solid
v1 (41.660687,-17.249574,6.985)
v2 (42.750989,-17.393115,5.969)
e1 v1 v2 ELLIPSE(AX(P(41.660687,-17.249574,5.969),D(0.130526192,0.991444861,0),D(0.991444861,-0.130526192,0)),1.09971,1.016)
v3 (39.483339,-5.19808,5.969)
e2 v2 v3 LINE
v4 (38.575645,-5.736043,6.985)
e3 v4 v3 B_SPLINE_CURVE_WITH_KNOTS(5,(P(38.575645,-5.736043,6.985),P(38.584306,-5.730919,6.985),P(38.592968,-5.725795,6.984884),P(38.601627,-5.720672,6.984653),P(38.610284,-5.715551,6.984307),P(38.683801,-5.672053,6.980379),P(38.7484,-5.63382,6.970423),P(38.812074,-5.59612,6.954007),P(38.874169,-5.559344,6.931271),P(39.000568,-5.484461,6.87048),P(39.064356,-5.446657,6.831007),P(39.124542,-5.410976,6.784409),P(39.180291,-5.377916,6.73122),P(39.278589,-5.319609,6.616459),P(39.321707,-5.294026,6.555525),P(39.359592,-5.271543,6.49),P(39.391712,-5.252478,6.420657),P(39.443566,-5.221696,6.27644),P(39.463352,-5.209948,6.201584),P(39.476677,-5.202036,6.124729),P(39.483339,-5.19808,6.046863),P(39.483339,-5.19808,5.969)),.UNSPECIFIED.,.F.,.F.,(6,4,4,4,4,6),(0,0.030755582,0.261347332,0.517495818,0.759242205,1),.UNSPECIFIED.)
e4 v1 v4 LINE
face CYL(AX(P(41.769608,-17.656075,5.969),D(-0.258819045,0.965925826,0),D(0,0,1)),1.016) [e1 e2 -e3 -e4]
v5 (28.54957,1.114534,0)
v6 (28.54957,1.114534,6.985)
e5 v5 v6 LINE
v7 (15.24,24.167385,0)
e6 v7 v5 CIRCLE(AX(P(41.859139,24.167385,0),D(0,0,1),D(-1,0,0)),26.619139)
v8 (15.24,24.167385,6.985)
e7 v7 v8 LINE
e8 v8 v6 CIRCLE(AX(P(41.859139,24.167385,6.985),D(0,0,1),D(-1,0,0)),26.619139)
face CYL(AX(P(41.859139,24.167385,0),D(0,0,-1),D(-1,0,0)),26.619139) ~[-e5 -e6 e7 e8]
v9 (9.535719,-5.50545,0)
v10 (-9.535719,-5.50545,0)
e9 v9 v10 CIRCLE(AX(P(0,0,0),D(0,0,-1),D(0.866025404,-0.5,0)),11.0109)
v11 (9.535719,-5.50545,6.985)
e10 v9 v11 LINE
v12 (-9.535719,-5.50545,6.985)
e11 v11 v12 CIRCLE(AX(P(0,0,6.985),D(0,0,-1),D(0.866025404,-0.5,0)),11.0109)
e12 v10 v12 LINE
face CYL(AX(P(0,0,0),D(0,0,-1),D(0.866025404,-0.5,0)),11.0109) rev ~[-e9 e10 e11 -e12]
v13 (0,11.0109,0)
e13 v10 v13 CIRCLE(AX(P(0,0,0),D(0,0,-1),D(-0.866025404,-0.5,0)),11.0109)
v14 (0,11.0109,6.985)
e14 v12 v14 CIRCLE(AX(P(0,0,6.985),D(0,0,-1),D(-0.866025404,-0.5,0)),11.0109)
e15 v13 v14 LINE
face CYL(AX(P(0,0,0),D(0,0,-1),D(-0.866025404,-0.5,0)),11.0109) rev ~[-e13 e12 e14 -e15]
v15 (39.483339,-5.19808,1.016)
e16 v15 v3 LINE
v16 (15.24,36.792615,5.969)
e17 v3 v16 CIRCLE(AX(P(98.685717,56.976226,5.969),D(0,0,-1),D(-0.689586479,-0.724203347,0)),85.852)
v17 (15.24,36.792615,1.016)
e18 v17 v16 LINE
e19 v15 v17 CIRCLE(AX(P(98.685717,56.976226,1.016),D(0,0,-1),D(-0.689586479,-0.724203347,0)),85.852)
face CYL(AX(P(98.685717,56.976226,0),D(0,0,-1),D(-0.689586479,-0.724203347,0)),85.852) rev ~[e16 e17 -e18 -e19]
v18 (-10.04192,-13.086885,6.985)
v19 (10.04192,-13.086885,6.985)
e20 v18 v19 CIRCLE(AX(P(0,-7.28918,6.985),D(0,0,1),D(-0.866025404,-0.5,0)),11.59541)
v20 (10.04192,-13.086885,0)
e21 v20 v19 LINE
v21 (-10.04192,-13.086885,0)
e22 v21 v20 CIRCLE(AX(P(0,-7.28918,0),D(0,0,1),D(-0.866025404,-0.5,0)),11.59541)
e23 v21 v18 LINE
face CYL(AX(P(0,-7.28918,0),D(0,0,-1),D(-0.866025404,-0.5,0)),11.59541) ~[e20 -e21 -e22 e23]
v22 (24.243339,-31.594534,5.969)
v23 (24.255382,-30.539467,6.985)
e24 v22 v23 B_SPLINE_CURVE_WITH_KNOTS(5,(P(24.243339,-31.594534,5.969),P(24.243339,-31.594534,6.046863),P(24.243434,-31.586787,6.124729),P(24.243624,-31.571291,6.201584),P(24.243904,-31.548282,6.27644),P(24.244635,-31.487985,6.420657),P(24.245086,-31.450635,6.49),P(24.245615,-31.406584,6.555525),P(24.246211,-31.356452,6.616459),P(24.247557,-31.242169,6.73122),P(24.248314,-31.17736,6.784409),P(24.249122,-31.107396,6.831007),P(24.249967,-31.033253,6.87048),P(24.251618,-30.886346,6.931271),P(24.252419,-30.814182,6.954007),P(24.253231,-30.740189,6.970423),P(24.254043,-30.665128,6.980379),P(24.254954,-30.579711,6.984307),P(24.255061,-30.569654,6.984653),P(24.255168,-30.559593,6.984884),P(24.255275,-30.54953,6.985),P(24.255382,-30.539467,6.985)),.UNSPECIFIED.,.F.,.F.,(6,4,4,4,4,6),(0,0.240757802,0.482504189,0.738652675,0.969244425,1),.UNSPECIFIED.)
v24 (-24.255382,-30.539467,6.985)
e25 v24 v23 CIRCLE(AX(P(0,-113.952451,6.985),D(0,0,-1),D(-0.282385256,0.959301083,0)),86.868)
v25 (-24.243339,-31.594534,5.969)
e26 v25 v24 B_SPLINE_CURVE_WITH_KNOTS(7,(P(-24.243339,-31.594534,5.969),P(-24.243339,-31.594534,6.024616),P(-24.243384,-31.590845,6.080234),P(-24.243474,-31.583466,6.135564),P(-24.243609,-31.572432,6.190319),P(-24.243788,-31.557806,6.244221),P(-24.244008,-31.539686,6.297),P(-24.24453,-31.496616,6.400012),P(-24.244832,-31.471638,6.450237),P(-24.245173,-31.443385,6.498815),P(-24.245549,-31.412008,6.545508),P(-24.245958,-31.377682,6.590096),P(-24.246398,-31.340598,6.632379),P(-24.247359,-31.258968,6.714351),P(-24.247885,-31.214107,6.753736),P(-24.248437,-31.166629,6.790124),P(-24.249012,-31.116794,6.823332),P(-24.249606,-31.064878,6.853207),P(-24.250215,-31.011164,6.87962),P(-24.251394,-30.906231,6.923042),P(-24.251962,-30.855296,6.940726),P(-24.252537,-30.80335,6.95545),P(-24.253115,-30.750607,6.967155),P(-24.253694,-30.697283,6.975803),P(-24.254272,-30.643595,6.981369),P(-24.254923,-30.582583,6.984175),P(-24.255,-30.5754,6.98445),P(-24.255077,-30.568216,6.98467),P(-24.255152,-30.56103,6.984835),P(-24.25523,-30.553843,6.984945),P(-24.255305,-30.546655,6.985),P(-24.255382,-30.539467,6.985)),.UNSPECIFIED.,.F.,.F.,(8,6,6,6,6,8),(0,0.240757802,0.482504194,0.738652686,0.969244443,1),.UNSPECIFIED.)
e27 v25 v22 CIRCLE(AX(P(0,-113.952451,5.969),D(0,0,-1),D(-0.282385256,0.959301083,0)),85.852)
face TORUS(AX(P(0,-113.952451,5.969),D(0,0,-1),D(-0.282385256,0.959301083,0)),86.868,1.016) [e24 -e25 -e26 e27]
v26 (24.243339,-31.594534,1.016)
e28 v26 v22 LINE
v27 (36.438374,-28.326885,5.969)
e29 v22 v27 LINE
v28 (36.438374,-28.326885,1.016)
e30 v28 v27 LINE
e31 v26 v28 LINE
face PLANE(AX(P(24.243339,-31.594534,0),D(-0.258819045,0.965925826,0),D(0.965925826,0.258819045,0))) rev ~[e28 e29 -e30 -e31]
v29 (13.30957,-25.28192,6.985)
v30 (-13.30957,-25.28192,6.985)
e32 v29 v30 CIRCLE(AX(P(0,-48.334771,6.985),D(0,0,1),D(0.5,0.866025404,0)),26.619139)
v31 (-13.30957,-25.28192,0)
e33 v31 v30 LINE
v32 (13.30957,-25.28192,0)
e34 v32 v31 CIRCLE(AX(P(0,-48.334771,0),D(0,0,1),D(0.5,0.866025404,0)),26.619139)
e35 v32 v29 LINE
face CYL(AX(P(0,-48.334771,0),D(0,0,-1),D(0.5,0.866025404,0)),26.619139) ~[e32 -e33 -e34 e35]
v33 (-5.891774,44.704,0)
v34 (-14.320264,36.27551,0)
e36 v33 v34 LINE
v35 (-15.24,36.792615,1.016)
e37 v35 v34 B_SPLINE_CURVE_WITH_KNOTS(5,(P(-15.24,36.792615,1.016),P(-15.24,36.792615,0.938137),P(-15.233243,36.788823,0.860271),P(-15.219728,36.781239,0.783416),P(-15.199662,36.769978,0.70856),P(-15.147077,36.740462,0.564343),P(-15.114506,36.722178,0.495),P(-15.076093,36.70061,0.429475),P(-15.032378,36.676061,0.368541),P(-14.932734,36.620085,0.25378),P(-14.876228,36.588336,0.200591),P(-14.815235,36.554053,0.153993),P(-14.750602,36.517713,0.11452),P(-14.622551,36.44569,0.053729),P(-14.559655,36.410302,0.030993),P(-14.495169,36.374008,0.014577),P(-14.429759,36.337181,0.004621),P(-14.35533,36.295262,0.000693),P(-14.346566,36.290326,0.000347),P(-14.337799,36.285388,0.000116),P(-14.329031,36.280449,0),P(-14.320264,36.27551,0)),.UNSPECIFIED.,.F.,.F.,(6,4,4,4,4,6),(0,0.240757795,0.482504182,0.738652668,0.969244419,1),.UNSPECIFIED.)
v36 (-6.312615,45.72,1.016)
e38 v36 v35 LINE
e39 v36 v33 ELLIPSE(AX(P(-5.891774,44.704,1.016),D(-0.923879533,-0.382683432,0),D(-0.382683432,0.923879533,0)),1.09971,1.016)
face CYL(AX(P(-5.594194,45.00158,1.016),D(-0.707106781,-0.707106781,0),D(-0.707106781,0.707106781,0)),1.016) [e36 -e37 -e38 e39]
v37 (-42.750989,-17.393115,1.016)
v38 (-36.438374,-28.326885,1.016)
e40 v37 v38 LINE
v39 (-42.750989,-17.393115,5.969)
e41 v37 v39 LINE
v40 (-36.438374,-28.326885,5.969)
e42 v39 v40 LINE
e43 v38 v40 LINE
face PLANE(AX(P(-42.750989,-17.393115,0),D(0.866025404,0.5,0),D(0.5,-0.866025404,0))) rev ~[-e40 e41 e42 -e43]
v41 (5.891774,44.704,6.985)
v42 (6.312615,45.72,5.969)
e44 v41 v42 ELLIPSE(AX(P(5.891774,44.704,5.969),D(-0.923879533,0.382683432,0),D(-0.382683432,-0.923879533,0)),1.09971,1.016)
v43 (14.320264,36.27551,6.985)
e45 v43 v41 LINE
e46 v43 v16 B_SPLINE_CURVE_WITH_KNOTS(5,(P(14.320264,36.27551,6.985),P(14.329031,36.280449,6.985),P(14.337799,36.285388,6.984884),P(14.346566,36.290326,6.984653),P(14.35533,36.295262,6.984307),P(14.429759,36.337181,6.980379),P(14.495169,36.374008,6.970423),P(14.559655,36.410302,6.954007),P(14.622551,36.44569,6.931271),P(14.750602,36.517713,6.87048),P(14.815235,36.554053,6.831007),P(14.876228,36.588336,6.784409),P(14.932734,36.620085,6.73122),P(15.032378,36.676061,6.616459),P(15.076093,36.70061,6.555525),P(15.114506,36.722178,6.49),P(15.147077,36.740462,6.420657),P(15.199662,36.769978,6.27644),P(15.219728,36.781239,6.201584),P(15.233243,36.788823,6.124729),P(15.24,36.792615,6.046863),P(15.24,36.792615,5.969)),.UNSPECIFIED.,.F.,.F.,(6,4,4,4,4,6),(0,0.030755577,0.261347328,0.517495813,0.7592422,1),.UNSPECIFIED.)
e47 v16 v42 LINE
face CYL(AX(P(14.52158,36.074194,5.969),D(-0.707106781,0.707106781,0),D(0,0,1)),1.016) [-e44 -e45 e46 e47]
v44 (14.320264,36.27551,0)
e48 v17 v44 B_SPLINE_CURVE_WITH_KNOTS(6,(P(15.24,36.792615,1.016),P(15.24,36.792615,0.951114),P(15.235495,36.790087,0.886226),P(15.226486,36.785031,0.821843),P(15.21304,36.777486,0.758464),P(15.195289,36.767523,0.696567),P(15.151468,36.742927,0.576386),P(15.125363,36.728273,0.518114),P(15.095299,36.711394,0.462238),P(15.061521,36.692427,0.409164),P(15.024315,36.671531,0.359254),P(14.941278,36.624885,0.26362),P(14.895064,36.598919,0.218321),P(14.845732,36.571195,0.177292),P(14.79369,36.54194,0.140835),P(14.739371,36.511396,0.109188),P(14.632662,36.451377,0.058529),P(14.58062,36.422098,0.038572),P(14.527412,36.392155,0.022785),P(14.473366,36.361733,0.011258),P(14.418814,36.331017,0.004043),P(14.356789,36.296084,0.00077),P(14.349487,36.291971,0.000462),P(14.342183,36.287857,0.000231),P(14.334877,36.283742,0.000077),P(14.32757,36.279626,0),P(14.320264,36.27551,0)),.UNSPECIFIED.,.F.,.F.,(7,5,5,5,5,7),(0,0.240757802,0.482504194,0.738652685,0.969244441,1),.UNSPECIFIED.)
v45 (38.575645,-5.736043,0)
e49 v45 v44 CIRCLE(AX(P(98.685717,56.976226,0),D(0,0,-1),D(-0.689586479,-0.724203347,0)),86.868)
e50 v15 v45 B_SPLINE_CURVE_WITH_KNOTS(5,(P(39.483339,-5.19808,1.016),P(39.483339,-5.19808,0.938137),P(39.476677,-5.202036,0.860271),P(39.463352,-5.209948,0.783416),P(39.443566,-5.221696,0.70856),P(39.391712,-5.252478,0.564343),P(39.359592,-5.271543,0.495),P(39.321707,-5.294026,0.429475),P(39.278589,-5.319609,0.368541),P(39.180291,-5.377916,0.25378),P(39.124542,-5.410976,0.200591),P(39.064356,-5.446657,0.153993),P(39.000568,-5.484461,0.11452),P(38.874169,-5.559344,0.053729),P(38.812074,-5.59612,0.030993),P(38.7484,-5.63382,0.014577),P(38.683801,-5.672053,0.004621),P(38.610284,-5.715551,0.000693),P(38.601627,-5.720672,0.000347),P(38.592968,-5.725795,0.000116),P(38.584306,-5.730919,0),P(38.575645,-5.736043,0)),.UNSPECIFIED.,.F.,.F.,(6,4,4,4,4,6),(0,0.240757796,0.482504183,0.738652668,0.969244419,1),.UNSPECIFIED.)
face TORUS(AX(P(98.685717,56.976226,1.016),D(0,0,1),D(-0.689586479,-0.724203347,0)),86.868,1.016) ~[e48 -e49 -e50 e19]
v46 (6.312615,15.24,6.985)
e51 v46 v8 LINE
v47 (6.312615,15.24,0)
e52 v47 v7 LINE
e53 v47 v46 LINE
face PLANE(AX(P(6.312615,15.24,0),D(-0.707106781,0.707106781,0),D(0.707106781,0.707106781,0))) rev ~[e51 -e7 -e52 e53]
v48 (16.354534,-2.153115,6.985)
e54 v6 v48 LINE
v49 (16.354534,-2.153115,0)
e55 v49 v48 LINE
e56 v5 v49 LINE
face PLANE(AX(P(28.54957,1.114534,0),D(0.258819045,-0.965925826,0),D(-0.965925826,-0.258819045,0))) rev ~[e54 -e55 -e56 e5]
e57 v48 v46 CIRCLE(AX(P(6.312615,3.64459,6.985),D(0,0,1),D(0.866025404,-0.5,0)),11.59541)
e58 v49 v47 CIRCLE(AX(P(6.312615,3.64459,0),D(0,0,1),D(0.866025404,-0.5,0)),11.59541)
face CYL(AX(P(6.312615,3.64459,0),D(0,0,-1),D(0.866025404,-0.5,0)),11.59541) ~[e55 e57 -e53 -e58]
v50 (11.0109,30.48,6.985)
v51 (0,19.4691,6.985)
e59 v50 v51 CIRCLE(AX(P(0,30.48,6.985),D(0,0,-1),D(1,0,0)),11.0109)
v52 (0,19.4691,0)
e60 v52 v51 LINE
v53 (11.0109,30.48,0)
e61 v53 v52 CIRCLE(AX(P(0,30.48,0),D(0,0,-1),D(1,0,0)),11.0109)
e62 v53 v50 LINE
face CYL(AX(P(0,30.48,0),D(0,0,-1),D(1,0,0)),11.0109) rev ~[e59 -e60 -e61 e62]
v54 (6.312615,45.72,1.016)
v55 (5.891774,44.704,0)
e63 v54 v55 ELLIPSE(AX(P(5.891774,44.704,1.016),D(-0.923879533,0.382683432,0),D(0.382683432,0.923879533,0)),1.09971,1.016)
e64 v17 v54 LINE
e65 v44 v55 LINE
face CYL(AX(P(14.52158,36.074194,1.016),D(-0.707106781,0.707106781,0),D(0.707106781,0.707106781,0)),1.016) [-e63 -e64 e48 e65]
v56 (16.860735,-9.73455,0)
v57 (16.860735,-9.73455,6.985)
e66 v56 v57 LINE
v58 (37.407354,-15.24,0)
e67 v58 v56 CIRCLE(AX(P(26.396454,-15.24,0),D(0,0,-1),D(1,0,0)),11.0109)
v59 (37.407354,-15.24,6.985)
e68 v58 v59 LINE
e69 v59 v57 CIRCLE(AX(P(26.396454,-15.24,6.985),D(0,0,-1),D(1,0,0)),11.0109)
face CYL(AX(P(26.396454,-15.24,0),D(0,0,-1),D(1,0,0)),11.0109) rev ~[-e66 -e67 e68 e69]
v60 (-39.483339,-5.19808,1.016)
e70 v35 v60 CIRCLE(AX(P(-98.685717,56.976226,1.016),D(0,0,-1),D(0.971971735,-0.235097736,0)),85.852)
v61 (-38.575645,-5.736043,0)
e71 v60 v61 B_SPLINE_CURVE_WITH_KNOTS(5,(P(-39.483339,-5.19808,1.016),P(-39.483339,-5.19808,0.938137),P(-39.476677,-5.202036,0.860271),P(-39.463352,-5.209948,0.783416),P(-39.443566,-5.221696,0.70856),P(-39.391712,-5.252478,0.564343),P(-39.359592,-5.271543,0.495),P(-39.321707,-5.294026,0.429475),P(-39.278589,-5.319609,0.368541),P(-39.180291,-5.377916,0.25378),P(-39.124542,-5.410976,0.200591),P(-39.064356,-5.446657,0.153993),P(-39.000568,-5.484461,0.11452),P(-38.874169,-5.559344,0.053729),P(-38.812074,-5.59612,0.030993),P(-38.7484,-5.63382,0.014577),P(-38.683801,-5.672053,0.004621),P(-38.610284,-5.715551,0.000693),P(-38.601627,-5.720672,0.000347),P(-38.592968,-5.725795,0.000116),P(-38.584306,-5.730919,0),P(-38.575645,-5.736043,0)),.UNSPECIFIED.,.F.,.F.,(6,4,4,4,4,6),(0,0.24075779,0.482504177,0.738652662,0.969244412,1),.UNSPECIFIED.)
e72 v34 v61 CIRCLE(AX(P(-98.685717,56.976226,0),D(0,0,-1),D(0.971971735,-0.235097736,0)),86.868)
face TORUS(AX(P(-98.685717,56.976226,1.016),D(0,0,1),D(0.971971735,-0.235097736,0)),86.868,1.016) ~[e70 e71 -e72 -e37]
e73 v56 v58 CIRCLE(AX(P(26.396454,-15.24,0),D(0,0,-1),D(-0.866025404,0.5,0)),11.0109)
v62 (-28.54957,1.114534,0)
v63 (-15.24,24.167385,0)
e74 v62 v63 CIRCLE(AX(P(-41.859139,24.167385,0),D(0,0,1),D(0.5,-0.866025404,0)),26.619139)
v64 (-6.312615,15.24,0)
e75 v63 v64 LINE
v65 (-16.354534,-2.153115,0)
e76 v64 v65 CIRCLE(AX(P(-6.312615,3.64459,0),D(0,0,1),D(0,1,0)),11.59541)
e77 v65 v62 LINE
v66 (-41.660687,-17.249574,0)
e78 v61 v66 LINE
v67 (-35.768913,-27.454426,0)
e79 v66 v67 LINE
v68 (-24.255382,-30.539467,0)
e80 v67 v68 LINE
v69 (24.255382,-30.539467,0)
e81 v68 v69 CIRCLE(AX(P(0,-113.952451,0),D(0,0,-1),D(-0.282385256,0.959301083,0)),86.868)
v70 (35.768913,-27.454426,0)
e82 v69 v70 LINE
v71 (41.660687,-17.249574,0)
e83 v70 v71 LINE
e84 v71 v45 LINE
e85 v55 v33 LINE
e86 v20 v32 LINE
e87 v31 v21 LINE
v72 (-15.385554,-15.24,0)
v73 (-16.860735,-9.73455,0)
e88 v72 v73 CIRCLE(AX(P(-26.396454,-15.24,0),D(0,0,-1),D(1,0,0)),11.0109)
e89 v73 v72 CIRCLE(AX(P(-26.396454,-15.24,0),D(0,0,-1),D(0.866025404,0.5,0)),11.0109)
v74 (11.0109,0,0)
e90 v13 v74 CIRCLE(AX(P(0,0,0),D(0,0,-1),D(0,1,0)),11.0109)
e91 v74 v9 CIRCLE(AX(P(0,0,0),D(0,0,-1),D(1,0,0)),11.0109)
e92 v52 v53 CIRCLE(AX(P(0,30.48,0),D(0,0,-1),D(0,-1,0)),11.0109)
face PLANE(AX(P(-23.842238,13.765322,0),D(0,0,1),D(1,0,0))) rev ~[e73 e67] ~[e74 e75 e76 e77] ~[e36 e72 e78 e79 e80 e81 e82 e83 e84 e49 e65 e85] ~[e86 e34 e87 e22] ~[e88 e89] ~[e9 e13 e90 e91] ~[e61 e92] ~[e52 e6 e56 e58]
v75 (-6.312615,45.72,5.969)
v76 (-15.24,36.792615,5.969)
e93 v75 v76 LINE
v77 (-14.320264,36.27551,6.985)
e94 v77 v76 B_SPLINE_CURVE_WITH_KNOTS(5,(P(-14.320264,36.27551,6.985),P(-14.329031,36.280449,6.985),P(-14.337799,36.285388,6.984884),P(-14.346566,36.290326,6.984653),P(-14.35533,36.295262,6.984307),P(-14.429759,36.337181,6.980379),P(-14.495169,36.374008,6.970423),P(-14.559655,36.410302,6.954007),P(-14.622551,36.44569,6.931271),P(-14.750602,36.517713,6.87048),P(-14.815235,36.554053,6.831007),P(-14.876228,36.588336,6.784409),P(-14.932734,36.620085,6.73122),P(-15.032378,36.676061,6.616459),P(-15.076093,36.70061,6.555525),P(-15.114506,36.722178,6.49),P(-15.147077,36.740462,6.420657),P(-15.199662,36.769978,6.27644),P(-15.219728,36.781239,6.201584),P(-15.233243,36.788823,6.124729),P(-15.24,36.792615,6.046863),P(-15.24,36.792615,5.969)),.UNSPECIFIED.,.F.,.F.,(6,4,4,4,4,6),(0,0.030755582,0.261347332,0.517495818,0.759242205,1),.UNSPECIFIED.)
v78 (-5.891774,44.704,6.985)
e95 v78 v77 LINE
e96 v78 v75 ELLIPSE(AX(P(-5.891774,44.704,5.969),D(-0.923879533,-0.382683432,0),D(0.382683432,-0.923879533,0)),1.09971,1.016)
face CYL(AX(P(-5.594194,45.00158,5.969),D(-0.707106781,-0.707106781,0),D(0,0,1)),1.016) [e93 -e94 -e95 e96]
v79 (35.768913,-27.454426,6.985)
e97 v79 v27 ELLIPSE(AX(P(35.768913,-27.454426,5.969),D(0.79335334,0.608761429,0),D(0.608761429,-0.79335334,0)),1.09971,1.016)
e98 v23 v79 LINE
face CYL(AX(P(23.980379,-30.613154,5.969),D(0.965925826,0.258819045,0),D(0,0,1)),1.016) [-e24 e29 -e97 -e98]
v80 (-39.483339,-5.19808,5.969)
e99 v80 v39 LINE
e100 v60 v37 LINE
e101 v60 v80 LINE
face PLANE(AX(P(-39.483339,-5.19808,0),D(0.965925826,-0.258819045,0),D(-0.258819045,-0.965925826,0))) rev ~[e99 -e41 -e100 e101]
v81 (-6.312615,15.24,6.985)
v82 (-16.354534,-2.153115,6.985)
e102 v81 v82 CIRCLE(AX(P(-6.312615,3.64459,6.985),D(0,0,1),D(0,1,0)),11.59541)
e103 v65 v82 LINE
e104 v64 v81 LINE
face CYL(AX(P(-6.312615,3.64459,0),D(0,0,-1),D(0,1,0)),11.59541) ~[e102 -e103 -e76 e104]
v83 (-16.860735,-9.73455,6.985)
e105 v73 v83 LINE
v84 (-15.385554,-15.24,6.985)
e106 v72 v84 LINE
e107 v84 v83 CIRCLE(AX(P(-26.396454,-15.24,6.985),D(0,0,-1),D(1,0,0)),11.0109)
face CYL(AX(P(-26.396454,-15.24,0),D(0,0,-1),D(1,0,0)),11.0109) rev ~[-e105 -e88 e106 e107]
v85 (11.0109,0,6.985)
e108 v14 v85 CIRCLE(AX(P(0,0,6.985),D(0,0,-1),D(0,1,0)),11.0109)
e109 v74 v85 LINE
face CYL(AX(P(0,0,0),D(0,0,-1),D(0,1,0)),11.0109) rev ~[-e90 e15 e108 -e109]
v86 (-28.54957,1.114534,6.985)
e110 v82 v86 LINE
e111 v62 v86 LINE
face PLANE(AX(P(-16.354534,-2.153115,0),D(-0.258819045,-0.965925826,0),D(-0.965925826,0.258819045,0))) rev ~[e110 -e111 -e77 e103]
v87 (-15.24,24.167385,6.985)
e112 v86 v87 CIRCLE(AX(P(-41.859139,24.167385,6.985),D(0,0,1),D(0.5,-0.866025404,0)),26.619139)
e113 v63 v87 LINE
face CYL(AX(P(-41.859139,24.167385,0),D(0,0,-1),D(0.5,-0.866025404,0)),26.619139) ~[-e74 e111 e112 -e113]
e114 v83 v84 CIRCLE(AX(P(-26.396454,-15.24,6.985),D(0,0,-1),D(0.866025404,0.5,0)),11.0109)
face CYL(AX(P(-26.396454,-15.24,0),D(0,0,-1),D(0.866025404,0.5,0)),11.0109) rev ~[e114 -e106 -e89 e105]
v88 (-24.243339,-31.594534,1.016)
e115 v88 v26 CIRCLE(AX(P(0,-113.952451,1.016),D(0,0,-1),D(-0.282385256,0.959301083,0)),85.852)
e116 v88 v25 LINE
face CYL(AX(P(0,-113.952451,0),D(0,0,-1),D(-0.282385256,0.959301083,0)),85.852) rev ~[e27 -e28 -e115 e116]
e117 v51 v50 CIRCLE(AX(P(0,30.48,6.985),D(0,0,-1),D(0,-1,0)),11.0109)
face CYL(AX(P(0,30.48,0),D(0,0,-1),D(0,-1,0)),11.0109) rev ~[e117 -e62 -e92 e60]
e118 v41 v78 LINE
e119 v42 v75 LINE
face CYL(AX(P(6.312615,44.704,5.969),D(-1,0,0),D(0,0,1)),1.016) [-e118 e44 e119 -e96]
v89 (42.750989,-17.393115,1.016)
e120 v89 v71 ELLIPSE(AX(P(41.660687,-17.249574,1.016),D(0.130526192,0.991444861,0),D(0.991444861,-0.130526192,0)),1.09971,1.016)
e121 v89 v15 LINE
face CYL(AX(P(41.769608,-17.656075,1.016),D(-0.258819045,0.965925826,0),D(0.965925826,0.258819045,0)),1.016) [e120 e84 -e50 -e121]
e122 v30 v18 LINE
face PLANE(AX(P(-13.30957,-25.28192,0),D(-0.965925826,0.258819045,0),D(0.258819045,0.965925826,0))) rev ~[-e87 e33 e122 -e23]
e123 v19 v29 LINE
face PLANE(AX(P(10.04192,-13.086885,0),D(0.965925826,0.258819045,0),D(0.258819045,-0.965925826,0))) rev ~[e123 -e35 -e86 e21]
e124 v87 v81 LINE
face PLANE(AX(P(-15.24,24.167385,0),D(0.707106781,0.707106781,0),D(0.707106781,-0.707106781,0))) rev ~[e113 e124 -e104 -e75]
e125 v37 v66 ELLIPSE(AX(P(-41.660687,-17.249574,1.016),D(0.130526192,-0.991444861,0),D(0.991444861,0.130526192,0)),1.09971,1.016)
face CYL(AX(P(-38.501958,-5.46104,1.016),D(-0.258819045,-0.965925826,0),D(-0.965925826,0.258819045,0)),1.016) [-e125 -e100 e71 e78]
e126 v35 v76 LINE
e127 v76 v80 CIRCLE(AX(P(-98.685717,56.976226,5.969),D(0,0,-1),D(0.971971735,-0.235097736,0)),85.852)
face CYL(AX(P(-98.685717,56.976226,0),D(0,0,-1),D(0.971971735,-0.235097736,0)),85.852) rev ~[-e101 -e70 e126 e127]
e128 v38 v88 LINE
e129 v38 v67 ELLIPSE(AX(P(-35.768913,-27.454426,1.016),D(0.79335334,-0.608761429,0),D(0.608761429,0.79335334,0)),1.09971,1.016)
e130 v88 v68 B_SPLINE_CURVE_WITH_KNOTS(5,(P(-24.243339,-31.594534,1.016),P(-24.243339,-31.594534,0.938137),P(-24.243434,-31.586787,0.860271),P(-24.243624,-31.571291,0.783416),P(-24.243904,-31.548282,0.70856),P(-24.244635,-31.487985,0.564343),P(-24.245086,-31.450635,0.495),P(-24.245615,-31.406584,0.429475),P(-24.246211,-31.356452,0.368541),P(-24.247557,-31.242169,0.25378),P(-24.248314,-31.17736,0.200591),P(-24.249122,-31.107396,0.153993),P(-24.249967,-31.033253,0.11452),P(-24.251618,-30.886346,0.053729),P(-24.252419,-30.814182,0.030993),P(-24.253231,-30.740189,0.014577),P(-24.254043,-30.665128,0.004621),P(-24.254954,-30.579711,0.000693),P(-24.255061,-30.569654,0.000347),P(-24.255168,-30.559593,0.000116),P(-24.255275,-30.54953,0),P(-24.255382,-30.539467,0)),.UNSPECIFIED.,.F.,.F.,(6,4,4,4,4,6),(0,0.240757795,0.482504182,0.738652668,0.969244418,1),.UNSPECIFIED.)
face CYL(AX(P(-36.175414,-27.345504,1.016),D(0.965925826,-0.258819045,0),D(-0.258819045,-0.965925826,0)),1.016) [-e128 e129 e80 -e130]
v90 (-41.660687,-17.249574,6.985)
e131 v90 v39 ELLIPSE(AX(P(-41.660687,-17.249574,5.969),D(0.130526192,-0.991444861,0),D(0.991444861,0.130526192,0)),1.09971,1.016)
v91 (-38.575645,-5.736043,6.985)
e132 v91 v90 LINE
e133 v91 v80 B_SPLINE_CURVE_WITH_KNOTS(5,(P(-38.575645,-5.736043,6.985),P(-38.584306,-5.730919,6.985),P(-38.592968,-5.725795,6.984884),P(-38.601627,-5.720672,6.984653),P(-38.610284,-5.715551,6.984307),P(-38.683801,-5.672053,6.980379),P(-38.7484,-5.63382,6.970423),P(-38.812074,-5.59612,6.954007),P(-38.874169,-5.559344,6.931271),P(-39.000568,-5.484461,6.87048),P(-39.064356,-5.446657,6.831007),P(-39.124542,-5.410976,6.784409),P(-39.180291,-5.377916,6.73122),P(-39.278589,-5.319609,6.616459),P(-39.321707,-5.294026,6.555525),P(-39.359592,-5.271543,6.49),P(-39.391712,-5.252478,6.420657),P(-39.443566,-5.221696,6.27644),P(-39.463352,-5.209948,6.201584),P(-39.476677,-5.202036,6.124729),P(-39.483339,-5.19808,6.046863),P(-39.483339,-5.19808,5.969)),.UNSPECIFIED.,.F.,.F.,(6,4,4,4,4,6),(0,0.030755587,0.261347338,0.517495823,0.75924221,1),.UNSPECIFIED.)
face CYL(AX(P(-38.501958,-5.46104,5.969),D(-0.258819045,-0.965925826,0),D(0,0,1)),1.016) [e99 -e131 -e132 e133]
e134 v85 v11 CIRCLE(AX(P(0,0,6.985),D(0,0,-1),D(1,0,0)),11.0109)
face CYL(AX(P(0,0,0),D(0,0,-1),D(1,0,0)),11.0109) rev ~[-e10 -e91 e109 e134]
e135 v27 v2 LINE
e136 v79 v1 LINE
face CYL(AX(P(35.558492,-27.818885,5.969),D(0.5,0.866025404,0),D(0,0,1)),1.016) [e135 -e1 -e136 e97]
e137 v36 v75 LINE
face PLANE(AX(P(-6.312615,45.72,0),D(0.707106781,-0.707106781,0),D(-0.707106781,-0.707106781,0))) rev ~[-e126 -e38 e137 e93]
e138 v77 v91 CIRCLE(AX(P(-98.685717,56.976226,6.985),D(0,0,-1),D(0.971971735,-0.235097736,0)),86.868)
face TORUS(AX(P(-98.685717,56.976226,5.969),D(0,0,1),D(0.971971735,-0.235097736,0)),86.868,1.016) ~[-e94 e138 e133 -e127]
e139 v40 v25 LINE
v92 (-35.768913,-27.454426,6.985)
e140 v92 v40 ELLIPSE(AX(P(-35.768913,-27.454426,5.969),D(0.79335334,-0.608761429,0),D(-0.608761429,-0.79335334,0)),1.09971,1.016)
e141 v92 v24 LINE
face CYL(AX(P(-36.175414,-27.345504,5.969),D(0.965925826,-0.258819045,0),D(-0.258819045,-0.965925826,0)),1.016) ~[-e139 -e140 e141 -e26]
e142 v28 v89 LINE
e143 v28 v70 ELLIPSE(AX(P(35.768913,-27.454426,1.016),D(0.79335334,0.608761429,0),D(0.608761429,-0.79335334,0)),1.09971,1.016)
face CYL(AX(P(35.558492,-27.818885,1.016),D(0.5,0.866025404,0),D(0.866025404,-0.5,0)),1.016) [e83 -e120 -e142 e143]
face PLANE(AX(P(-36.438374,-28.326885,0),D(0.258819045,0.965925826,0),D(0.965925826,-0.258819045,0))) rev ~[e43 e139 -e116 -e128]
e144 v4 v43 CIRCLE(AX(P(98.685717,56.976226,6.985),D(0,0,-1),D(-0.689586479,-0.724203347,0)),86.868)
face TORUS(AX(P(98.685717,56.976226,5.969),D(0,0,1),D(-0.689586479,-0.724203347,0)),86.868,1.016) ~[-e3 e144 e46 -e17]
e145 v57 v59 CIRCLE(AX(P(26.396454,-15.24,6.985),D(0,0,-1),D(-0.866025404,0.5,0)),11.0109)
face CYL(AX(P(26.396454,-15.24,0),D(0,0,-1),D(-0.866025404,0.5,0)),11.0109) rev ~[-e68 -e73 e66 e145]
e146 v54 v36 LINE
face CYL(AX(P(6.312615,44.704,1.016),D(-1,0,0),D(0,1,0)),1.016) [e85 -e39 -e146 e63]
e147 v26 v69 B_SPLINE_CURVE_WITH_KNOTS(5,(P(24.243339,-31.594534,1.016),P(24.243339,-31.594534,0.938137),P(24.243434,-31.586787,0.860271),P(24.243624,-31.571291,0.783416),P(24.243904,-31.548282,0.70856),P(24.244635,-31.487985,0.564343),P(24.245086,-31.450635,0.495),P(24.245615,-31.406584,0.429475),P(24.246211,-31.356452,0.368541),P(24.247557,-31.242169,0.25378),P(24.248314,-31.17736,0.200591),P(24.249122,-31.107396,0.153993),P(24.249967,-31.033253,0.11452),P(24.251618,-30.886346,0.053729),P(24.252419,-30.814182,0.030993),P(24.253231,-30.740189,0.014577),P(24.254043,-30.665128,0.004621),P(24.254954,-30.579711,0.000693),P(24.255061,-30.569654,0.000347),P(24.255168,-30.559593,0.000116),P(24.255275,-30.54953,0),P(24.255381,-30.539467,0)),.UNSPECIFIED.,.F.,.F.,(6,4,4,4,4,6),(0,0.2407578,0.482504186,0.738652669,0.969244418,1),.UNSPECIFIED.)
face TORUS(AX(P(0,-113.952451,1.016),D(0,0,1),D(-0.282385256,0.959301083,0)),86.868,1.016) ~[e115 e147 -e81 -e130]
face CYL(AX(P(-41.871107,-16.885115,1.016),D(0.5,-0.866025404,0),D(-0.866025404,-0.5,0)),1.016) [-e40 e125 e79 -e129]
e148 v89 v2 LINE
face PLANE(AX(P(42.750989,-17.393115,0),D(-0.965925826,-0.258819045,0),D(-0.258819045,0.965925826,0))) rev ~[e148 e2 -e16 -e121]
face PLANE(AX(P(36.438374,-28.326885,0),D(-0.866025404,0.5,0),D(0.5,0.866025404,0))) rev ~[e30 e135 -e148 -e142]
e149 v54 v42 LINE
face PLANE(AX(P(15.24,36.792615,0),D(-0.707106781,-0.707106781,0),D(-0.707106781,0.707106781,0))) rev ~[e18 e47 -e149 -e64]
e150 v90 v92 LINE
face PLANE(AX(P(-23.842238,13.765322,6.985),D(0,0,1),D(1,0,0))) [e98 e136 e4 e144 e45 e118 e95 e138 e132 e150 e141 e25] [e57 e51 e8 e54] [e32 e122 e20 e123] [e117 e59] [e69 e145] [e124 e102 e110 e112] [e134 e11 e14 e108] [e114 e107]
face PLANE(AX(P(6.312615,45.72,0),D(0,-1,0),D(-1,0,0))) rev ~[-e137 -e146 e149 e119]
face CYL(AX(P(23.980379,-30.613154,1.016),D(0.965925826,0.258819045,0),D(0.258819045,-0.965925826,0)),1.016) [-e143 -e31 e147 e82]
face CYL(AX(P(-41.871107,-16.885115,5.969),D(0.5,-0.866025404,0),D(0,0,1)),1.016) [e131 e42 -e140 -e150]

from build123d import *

# Parameters (mm, degrees)
F1_DEPTH = 6.985
F2_R     = 1.016


with BuildPart() as f1:
    # F0 (on Top) → F1 (new body)
    with BuildSketch(Plane.XY):
        with BuildLine():
            ThreePointArc((-28.549569621, 1.114534499), (-18.8062884316, 10.8578156884), (-15.24, 24.1673853094))
            Line((-15.24, 24.1673853094), (-15.24, 36.7926146906))
            ThreePointArc((-15.24, 36.7926146906), (-24.3357044661, 14.0502255244), (-39.4833389937, -5.1980801916))
            Line((-39.4833389937, -5.1980801916), (-28.549569621, 1.114534499))
        make_face()
        with BuildLine():
            Line((15.24, 36.7926146906), (15.24, 24.1673853094))
            ThreePointArc((15.24, 24.1673853094), (18.8062884316, 10.8578156884), (28.549569621, 1.114534499))
            Line((28.549569621, 1.114534499), (39.4833389937, -5.1980801916))
            ThreePointArc((39.4833389937, -5.1980801916), (24.3357044661, 14.0502255244), (15.24, 36.7926146906))
        make_face()
        with BuildLine():
            Line((24.2433389937, -31.594534499), (13.309569621, -25.2819198084))
            ThreePointArc((13.309569621, -25.2819198084), (0, -21.7156313768), (-13.309569621, -25.2819198084))
            Line((-13.309569621, -25.2819198084), (-24.2433389937, -31.594534499))
            ThreePointArc((-24.2433389937, -31.594534499), (0, -28.1004510488), (24.2433389937, -31.594534499))
        make_face()
        Polygon((-6.3126146906, 15.24), (0, 15.24), (6.3126146906, 15.24), (15.24, 24.1673853094), (15.24, 36.7926146906), (6.3126146906, 45.72), (-6.3126146906, 45.72), (-15.24, 36.7926146906), (-15.24, 24.1673853094), align=None)
        with BuildLine():
            ThreePointArc((11.0109, 30.48), (7.785882057, 22.694117943), (0, 19.4691))
            ThreePointArc((0, 19.4691), (-7.785882057, 38.265882057), (11.0109, 30.48))
        make_face(mode=Mode.SUBTRACT)
        Polygon((-10.0419198084, -13.0868846863), (-13.1982271537, -7.62), (-16.354534499, -2.1531153137), (-28.549569621, 1.114534499), (-39.4833389937, -5.1980801916), (-42.7509888063, -17.3931153137), (-36.4383741157, -28.3268846863), (-24.2433389937, -31.594534499), (-13.309569621, -25.2819198084), align=None)
        with BuildLine():
            ThreePointArc((-15.3855543073, -15.24), (-37.032166988, -18.0898306237), (-16.8607351888, -9.73455))
            ThreePointArc((-16.8607351888, -9.73455), (-15.7607416267, -12.3901693763), (-15.3855543073, -15.24))
        make_face(mode=Mode.SUBTRACT)
        Polygon((16.354534499, -2.1531153137), (13.1982271537, -7.62), (10.0419198084, -13.0868846863), (13.309569621, -25.2819198084), (24.2433389937, -31.594534499), (36.4383741157, -28.3268846863), (42.7509888063, -17.3931153137), (39.4833389937, -5.1980801916), (28.549569621, 1.114534499), align=None)
        with BuildLine():
            ThreePointArc((37.4073543073, -15.24), (23.5466236836, -25.8757126807), (16.8607351888, -9.73455))
            ThreePointArc((16.8607351888, -9.73455), (29.2462849311, -4.6042873193), (37.4073543073, -15.24))
        make_face(mode=Mode.SUBTRACT)
        with BuildLine():
            ThreePointArc((-9.5357191185, -5.50545), (-9.5357191185, 5.50545), (0, 11.0109))
            Line((0, 11.0109), (0, 15.24))
            Line((0, 15.24), (-6.3126146906, 15.24))
            ThreePointArc((-6.3126146906, 15.24), (-16.354534499, 9.4422948954), (-16.354534499, -2.1531153137))
            Line((-16.354534499, -2.1531153137), (-13.1982271537, -7.62))
            Line((-13.1982271537, -7.62), (-9.5357191185, -5.50545))
        make_face()
        with BuildLine():
            ThreePointArc((0, 11.0109), (7.785882057, 7.785882057), (11.0109, 0))
            ThreePointArc((11.0109, 0), (10.6357126807, -2.8498306237), (9.5357191185, -5.50545))
            Line((9.5357191185, -5.50545), (13.1982271537, -7.62))
            Line((13.1982271537, -7.62), (16.354534499, -2.1531153137))
            ThreePointArc((16.354534499, -2.1531153137), (16.354534499, 9.4422948954), (6.3126146906, 15.24))
            Line((6.3126146906, 15.24), (0, 15.24))
            Line((0, 15.24), (0, 11.0109))
        make_face()
        with BuildLine():
            Line((13.1982271537, -7.62), (9.5357191185, -5.50545))
            ThreePointArc((9.5357191185, -5.50545), (0, -11.0109), (-9.5357191185, -5.50545))
            Line((-9.5357191185, -5.50545), (-13.1982271537, -7.62))
            Line((-13.1982271537, -7.62), (-10.0419198084, -13.0868846863))
            ThreePointArc((-10.0419198084, -13.0868846863), (0, -18.8845897909), (10.0419198084, -13.0868846863))
            Line((10.0419198084, -13.0868846863), (13.1982271537, -7.62))
        make_face()
    extrude(amount=F1_DEPTH)

    # F2#2 (call 1 of 2: OpenCascade refuses the feature's edges together)
    f2_2_edges = [f1.edges().sort_by_distance(p)[0] for p in [
        (0, -28.100451, 0),
        (-24.335704, 14.050226, 0),
        (24.335704, 14.050226, 0),
        (10.776307, 41.256307, 0),
        (0, 45.72, 0),
        (-10.776307, 41.256307, 0),
        (-30.340857, -29.96071, 0),
        (-39.594681, -22.86, 0),
        (-41.117164, -11.295598, 0),
        (30.340857, -29.96071, 0),
        (39.594681, -22.86, 0),
        (41.117164, -11.295598, 0),
    ]]
    fillet(f2_2_edges, radius=F2_R)

    # F2 (call 2 of 2)
    f2_edges = [f1.edges().sort_by_distance(p)[0] for p in [
        (0, -28.100451, 6.985),
        (-24.335704, 14.050226, 6.985),
        (24.335704, 14.050226, 6.985),
        (-10.776307, 41.256307, 6.985),
        (0, 45.72, 6.985),
        (10.776307, 41.256307, 6.985),
        (-39.594681, -22.86, 6.985),
        (-30.340857, -29.96071, 6.985),
        (-41.117164, -11.295598, 6.985),
        (30.340857, -29.96071, 6.985),
        (39.594681, -22.86, 6.985),
        (41.117164, -11.295598, 6.985),
    ]]
    fillet(f2_edges, radius=F2_R)


solid = f1.part
